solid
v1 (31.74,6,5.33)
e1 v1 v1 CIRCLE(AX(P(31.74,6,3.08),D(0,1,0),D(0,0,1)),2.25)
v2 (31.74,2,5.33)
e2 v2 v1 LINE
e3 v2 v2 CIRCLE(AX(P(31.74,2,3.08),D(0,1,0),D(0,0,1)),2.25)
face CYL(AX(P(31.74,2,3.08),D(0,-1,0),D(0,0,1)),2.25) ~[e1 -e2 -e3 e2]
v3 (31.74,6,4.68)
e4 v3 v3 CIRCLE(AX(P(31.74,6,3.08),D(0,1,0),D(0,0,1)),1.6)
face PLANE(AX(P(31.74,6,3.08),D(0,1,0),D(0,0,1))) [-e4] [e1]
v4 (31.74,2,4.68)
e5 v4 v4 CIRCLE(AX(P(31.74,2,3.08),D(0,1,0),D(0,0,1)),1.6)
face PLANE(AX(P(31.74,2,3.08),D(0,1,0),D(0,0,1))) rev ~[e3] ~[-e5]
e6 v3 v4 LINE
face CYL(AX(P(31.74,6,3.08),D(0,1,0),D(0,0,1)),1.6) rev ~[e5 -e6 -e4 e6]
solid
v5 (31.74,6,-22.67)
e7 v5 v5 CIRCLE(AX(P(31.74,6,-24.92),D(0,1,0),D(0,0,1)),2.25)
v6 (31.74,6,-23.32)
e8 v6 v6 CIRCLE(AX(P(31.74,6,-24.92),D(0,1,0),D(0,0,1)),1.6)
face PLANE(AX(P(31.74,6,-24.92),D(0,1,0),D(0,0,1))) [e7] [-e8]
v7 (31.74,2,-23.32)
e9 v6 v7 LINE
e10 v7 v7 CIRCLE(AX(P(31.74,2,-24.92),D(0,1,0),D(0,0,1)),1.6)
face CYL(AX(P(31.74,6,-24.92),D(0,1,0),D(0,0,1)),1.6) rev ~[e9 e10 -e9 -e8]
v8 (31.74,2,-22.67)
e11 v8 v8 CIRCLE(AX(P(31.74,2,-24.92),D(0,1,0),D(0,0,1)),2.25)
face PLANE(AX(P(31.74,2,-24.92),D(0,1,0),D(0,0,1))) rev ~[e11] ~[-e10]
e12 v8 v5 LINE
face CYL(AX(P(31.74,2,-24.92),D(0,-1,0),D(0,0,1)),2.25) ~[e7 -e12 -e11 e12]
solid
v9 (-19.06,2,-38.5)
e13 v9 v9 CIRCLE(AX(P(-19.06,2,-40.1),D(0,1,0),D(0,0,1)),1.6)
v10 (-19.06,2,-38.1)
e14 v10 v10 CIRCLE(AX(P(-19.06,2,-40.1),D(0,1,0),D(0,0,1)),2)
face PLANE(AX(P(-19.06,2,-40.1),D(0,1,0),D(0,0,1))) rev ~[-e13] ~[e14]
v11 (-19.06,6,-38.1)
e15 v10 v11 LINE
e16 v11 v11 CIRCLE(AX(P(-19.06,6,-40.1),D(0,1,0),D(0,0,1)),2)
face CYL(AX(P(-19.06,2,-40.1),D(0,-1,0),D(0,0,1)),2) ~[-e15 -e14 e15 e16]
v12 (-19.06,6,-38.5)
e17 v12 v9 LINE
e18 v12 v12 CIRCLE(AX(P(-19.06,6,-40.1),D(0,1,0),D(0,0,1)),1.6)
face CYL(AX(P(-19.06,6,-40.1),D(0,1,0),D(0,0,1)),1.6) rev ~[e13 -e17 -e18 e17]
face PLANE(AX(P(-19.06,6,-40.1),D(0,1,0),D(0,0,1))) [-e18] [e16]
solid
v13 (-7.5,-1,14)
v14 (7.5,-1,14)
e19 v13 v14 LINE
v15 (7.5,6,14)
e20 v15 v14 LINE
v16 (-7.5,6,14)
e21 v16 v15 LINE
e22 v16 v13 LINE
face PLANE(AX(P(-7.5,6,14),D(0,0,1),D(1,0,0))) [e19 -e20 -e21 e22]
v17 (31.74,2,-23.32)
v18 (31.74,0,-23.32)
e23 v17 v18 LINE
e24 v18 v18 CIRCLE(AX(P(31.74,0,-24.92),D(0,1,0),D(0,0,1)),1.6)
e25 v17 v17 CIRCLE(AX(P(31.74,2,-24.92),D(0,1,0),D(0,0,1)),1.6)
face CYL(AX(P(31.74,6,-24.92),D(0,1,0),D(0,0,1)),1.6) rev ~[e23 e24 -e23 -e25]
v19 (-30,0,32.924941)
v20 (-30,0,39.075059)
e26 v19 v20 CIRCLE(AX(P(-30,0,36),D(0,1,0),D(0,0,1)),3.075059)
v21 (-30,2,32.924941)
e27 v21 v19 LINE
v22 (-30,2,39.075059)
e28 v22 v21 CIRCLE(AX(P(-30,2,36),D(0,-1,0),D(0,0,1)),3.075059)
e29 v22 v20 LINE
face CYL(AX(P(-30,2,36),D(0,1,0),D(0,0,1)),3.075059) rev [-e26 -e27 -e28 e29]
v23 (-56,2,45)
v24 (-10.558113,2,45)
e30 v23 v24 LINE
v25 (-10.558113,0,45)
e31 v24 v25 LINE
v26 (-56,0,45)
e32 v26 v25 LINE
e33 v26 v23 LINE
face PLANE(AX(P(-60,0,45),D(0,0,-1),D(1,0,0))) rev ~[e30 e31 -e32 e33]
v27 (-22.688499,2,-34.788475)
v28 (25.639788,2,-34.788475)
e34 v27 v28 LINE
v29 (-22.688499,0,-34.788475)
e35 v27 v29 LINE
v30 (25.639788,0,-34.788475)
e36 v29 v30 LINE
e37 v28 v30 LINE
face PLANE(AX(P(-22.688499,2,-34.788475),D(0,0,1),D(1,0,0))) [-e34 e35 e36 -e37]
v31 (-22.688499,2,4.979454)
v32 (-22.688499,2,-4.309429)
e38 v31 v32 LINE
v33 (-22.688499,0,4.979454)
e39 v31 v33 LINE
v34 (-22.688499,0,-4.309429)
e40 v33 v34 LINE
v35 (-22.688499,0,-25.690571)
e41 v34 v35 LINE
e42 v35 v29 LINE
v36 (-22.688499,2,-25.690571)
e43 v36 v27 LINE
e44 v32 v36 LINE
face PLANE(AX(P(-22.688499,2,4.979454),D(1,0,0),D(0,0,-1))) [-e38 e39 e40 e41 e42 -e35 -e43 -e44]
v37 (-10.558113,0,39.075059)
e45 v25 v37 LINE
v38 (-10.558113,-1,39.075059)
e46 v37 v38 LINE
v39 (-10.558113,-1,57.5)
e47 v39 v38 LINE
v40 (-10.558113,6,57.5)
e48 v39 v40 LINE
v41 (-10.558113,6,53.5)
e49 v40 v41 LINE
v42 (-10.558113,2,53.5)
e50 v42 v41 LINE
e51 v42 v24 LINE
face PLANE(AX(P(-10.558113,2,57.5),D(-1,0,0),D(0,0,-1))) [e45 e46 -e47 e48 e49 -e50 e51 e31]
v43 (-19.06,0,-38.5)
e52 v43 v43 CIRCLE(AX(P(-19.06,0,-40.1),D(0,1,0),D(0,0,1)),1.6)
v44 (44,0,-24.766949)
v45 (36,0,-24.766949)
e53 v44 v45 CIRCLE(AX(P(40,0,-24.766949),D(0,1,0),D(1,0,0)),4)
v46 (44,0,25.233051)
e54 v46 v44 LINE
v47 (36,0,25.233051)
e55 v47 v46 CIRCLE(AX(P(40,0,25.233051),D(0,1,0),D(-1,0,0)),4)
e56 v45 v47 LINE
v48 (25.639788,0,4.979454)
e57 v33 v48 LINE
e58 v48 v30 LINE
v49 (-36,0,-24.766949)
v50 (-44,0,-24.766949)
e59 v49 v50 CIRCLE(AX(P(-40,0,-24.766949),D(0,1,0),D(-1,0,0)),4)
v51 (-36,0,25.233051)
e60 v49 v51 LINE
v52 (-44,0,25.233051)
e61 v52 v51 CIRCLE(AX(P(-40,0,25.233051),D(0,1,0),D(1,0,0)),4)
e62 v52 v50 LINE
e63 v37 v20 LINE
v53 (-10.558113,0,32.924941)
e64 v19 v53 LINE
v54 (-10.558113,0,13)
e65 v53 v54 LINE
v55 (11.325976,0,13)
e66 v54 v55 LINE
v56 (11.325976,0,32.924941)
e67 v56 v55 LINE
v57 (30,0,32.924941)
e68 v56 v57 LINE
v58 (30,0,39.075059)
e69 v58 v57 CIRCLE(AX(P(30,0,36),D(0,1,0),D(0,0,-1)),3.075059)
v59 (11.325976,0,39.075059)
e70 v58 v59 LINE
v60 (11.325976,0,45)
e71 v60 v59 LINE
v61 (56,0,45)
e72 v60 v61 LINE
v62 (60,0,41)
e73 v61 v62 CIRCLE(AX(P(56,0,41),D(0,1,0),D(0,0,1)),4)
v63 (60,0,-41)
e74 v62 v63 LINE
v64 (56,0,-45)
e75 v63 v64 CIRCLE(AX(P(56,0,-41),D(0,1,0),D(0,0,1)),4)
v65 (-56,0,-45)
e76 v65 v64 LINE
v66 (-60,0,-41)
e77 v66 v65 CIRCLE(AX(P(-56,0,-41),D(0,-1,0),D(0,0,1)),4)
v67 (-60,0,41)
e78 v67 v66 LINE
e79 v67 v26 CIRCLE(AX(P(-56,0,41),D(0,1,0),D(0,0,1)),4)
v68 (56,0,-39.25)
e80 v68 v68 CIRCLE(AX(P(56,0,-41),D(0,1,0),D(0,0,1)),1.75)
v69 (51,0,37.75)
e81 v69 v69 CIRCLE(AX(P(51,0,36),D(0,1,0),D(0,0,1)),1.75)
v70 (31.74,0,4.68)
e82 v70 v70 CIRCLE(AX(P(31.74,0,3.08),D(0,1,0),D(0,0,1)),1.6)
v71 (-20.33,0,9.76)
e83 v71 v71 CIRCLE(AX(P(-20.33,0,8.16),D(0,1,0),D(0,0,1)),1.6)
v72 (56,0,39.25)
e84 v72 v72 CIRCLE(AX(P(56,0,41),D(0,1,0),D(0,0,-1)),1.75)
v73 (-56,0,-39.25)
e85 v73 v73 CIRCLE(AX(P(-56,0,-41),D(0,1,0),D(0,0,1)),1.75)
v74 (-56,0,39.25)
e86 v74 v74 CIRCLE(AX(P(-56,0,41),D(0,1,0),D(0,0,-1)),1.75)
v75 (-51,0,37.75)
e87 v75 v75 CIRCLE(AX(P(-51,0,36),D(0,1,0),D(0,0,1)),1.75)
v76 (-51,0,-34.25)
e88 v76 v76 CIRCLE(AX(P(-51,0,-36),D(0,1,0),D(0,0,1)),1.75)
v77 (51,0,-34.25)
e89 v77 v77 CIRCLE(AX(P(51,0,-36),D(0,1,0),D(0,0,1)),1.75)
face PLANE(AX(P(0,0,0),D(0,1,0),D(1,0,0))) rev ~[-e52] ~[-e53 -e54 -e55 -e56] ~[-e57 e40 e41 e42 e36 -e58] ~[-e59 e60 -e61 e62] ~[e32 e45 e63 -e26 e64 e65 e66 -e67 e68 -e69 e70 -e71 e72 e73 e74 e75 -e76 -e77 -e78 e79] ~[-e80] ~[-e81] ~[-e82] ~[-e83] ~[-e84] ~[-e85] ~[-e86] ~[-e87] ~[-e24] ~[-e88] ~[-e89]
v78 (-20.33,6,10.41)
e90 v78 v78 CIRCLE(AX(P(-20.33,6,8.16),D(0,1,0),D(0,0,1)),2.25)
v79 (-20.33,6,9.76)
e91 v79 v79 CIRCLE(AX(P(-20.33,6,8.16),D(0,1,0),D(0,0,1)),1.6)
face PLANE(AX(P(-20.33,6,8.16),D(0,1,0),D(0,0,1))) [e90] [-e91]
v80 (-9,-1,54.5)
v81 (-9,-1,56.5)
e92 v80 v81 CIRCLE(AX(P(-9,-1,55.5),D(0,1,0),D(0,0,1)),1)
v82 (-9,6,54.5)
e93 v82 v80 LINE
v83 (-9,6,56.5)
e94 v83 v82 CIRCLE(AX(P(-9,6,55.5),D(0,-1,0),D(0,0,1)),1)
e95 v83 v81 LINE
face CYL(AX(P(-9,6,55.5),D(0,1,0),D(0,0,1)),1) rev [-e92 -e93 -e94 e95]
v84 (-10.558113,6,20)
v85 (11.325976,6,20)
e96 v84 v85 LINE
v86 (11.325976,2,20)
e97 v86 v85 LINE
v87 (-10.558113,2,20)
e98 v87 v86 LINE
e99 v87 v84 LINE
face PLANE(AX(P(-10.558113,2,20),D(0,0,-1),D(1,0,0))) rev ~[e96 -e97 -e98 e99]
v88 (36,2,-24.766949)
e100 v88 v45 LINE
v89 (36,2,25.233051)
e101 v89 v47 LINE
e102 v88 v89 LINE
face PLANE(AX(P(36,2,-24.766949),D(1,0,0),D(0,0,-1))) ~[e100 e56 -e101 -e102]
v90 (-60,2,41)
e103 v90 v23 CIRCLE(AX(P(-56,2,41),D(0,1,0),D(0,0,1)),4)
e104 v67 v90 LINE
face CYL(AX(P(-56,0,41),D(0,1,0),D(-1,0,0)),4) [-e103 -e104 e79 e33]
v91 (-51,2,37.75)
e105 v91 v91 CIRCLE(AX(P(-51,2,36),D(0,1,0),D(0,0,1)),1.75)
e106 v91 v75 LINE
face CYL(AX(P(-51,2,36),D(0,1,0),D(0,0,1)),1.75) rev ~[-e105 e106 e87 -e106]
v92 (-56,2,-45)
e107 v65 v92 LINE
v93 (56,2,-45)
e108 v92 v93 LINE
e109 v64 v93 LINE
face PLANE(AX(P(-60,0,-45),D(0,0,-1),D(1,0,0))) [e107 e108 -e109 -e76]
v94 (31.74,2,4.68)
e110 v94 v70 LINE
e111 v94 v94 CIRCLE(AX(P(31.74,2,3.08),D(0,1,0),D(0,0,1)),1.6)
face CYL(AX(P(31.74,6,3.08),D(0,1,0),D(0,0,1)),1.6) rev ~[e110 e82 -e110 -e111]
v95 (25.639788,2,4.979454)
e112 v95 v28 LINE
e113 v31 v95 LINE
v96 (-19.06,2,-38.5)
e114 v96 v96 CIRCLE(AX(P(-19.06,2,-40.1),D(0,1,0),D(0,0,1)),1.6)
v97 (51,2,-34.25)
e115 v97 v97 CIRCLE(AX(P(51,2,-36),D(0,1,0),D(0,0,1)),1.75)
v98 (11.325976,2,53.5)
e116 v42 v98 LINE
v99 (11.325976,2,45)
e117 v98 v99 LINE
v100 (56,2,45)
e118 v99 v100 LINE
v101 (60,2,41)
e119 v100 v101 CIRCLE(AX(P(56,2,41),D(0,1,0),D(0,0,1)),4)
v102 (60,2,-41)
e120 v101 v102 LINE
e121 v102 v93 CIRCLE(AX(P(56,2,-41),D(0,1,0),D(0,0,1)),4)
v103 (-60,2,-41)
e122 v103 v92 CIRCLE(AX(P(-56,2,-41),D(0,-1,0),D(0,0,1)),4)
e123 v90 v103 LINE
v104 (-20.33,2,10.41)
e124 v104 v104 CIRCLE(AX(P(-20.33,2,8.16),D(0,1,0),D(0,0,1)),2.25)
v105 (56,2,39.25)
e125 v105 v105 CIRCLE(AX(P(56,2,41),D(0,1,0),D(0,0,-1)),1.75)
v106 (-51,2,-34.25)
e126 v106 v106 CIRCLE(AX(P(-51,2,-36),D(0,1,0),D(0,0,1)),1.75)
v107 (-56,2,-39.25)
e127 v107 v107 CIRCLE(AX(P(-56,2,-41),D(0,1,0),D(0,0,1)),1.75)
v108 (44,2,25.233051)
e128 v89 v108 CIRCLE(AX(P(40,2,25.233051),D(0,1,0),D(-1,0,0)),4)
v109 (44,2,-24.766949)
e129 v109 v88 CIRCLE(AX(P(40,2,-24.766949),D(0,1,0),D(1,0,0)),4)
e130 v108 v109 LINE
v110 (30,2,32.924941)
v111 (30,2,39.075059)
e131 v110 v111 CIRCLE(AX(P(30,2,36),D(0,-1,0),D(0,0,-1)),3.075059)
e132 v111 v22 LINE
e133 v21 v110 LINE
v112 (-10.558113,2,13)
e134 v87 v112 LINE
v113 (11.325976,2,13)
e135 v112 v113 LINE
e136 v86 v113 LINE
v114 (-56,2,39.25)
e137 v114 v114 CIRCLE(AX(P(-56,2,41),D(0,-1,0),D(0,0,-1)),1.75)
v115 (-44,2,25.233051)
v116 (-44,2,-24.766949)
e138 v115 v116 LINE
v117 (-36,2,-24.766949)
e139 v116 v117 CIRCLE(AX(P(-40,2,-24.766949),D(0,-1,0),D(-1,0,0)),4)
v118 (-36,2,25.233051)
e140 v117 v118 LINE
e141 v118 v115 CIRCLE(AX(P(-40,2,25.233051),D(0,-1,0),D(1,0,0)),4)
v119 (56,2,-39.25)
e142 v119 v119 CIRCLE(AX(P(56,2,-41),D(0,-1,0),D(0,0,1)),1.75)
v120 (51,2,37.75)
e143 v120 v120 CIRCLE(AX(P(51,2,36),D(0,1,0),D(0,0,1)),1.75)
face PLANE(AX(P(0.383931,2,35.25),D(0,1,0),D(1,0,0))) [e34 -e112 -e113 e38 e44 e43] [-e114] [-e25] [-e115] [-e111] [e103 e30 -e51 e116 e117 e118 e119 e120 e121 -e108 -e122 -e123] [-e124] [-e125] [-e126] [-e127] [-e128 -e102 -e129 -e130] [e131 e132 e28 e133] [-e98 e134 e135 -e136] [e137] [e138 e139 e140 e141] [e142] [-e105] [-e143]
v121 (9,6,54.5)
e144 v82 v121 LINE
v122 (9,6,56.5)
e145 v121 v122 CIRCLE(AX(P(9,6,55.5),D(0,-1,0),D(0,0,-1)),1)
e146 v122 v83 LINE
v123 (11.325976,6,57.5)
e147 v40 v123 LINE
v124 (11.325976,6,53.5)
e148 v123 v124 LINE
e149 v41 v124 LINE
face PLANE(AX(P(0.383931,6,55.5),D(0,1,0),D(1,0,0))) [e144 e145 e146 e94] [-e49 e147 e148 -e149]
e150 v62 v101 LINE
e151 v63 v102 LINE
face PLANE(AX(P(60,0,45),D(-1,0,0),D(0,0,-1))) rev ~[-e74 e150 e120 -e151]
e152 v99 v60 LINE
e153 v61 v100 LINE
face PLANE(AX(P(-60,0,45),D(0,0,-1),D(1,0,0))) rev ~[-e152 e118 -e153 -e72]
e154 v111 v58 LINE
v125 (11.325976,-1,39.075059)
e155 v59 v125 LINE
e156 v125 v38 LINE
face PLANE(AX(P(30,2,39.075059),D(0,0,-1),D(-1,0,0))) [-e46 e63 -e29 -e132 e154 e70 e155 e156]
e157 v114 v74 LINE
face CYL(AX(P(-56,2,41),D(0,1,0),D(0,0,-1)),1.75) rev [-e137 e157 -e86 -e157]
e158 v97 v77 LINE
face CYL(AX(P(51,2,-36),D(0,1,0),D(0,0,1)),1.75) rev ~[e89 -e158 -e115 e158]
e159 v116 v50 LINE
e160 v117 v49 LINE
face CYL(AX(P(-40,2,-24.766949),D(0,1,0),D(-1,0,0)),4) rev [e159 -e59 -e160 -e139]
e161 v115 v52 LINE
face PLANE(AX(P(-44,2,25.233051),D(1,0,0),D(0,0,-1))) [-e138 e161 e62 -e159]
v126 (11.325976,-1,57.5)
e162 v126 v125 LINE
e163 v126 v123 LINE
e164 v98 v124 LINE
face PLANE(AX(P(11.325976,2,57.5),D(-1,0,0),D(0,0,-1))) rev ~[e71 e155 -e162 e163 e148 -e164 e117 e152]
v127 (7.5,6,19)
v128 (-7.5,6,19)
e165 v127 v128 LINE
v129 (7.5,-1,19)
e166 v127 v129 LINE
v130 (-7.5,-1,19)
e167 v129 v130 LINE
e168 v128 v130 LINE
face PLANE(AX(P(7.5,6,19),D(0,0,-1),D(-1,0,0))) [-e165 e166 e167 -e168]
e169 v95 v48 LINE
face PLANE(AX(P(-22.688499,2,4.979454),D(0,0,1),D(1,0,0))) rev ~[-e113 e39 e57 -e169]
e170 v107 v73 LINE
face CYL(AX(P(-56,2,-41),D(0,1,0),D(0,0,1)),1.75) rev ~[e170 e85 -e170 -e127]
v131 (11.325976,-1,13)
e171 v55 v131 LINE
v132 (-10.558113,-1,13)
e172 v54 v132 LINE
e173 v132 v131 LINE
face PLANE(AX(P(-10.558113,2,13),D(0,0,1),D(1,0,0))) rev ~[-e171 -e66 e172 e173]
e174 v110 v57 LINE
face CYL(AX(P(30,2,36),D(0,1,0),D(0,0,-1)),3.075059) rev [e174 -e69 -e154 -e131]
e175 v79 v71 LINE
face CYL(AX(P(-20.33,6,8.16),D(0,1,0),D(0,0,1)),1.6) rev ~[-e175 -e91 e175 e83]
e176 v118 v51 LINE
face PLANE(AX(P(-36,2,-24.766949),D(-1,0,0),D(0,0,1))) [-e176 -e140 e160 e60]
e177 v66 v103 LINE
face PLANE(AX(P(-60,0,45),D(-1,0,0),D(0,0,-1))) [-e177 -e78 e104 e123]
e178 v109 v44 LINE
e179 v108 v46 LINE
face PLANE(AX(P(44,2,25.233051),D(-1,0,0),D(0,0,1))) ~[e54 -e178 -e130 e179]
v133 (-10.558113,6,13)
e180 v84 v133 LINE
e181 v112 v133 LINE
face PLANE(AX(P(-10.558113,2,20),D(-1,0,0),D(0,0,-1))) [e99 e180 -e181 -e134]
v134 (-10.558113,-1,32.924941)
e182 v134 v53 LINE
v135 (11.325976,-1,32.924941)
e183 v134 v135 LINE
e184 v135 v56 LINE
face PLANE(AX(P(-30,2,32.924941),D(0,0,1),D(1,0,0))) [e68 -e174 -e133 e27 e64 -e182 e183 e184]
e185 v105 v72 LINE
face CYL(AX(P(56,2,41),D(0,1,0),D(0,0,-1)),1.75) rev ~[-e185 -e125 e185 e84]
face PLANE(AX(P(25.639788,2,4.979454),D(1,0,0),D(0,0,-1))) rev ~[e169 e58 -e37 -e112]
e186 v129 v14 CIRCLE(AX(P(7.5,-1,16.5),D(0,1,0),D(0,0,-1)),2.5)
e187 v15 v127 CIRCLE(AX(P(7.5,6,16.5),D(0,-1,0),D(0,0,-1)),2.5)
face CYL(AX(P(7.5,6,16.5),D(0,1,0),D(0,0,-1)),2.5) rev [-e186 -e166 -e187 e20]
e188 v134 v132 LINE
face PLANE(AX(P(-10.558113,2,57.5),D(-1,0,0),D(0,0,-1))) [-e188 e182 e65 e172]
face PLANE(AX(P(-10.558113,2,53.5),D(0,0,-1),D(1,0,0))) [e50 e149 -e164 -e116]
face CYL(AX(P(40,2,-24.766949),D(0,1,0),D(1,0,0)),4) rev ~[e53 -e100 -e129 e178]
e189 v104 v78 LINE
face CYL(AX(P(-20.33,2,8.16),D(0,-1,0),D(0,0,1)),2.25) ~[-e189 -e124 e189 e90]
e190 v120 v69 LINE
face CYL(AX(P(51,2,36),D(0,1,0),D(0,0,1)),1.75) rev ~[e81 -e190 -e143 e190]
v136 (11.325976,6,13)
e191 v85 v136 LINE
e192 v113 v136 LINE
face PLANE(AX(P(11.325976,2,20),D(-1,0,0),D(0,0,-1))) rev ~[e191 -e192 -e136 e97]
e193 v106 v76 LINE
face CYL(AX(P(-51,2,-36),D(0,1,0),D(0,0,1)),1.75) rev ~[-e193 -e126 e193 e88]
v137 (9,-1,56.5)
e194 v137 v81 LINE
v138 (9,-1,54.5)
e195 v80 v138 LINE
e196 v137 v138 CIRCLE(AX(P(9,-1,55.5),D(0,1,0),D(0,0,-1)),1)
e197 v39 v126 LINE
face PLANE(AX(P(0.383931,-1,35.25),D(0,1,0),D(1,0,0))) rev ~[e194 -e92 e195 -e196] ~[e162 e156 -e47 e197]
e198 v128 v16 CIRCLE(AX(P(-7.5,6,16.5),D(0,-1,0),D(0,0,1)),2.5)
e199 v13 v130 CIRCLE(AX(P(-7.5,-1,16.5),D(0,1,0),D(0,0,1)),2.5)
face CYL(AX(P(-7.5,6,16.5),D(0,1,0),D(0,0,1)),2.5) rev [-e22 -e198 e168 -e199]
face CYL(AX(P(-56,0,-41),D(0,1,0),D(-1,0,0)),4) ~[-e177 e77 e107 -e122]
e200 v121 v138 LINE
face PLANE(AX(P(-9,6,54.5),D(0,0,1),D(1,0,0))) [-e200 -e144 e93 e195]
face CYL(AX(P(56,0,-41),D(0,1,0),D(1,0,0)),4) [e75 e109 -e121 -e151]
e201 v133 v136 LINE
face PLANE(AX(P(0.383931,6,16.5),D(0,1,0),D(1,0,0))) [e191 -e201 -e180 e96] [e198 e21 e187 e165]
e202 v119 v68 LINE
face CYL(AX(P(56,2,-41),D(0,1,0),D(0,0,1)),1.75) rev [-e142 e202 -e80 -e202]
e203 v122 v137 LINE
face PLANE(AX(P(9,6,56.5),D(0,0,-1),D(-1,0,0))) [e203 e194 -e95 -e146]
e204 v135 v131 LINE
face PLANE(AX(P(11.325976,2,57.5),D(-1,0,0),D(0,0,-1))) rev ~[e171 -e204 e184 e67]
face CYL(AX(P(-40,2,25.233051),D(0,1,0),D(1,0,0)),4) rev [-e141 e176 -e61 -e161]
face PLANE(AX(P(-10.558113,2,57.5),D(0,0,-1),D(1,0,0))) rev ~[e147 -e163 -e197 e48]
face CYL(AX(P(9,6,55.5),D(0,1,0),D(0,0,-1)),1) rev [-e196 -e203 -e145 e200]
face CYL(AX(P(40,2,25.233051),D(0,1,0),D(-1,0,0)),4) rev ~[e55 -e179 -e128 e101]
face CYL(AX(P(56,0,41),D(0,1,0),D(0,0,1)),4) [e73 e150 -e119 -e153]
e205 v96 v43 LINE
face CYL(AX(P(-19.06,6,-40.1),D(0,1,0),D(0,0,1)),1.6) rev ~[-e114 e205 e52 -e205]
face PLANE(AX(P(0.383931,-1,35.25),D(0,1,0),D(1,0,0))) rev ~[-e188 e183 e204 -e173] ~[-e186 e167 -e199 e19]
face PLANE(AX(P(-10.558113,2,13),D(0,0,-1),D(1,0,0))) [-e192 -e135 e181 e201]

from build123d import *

# Parameters (mm, degrees)
SKETCH1_W               = 120
SKETCH1_H               = 90
BOSS_EXTRUDE1_DEPTH     = 2
FILLET1_R               = 4
SKETCH3_R               = 2.25
BOSS_EXTRUDE2_DEPTH     = 4
SKETCH3_R_2             = 2
BOSS_EXTRUDE2_2_DEPTH   = 4
BOSS_EXTRUDE2_3_DEPTH   = 4
SKETCH4_R               = 1.6
CUT_EXTRUDE2_DEPTH      = 10
SKETCH7_W               = 43.376997866
SKETCH7_H               = 21.38114218
CUT_EXTRUDE3_DEPTH      = 10
SKETCH9_R               = 2.25
BOSS_EXTRUDE3_DEPTH     = 4
SKETCH10_R              = 1.6
CUT_EXTRUDE4_DEPTH      = 8
SKETCH11_W              = 21.884088293
SKETCH11_H              = 7
BOSS_EXTRUDE4_DEPTH     = 4
SKETCH12_W              = 21.884088293
SKETCH12_H              = 44.5
BOSS_EXTRUDE5_DEPTH     = 3
SKETCH13_W              = 21.884088293
SKETCH13_H              = 4
BOSS_EXTRUDE6_DEPTH     = 4
CUT_EXTRUDE5_DEPTH      = 11
CUT_EXTRUDE6_DEPTH      = 11
SKETCH17_R              = 1.75
CUT_EXTRUDE7_DEPTH      = 3
SKETCH18_R              = 1.75
CUT_EXTRUDE8_DEPTH      = 10
MIRROR2_COPY_1_SKETCH_R = 1.75
MIRROR2_COPY_1_DEPTH    = 10
CUT_EXTRUDE9_DEPTH      = 10
CUT_EXTRUDE10_DEPTH     = 10
SKETCH21_W              = 48.328287205
SKETCH21_H              = 39.767929333
CUT_EXTRUDE11_DEPTH     = 10


with BuildPart() as part:
    # Sketch1 → Boss-Extrude1 (new body)
    with BuildSketch(Plane(origin=(0, 0, 0), x_dir=(1, 0, 0), z_dir=(0, 1, 0))):
        Rectangle(SKETCH1_W, SKETCH1_H)
    extrude(amount=BOSS_EXTRUDE1_DEPTH)

    # Fillet1
    fillet1_edges = [part.edges().sort_by_distance(p)[0] for p in [
        (-60, 1, 45),
        (-60, 1, -45),
        (60, 1, -45),
        (60, 1, 45),
    ]]
    fillet(fillet1_edges, radius=FILLET1_R)


with BuildPart() as body_2:
    # Sketch3 → Boss-Extrude2 (new body)
    with BuildSketch(Plane(origin=(0, 2, 0), x_dir=(1, 0, 0), z_dir=(0, 1, 0))):
        with Locations(Location((31.74, -3.08, 0), (0, 0, 270))):
            Circle(SKETCH3_R)
    extrude(amount=BOSS_EXTRUDE2_DEPTH)


with BuildPart() as body_3:
    # Sketch3 → Boss-Extrude2 2 (new body)
    with BuildSketch(Plane(origin=(0, 2, 0), x_dir=(1, 0, 0), z_dir=(0, 1, 0))):
        with Locations(Location((-19.06, 40.1, 0), (0, 0, 270))):
            Circle(SKETCH3_R_2)
    extrude(amount=BOSS_EXTRUDE2_2_DEPTH)


with BuildPart() as body_4:
    # Sketch3 → Boss-Extrude2 3 (new body)
    with BuildSketch(Plane(origin=(0, 2, 0), x_dir=(1, 0, 0), z_dir=(0, 1, 0))):
        with Locations(Location((31.74, 24.92, 0), (0, 0, 270))):
            Circle(SKETCH3_R)
    extrude(amount=BOSS_EXTRUDE2_3_DEPTH)


with BuildPart() as cut_extrude2_tool:
    # Sketch4 → Cut-Extrude2 (new body)
    with BuildSketch(Plane(origin=(0, 6, 0), x_dir=(1, 0, 0), z_dir=(0, 1, 0))):
        with Locations(Location((-19.06, 40.1, 0), (0, 0, 270))):
            Circle(SKETCH4_R)
        with Locations(Location((31.74, 24.92, 0), (0, 0, 270))):
            Circle(SKETCH4_R)
        with Locations(Location((31.74, -3.08, 0), (0, 0, 270))):
            Circle(SKETCH4_R)
    extrude(amount=-CUT_EXTRUDE2_DEPTH)


with BuildPart() as part_1:
    add(part.part)

    # Cut-Extrude2: cut by cut_extrude2_tool
    add(cut_extrude2_tool.part, mode=Mode.SUBTRACT)

    # Sketch7 → Cut-Extrude3 (cut)
    with BuildSketch(Plane(origin=(0, 2, 0), x_dir=(1, 0, 0), z_dir=(0, 1, 0))):
        with Locations((-1, 15)):
            Rectangle(SKETCH7_W, SKETCH7_H)
    extrude(amount=-CUT_EXTRUDE3_DEPTH, mode=Mode.SUBTRACT)

    # Sketch9 → Boss-Extrude3 (add)
    with BuildSketch(Plane(origin=(0, 2, 0), x_dir=(1, 0, 0), z_dir=(0, 1, 0))):
        with Locations(Location((-20.33, -8.16, 0), (0, 0, 270))):
            Circle(SKETCH9_R)
    extrude(amount=BOSS_EXTRUDE3_DEPTH)

    # Sketch10 → Cut-Extrude4 (cut)
    with BuildSketch(Plane(origin=(0, 6, 0), x_dir=(1, 0, 0), z_dir=(0, 1, 0))):
        with Locations(Location((-20.33, -8.16, 0), (0, 0, 270))):
            Circle(SKETCH10_R)
    extrude(amount=-CUT_EXTRUDE4_DEPTH, mode=Mode.SUBTRACT)

    # Sketch11 → Boss-Extrude4 (add)
    with BuildSketch(Plane(origin=(0, 2, 0), x_dir=(1, 0, 0), z_dir=(0, 1, 0))):
        with Locations((0.383931373, -16.5)):
            Rectangle(SKETCH11_W, SKETCH11_H)
    extrude(amount=BOSS_EXTRUDE4_DEPTH)

    # Sketch12 → Boss-Extrude5 (add)
    with BuildSketch(Plane(origin=(0, 2, 0), x_dir=(1, 0, 0), z_dir=(0, 1, 0))):
        with Locations((0.383931373, -35.25)):
            Rectangle(SKETCH12_W, SKETCH12_H)
    extrude(amount=-BOSS_EXTRUDE5_DEPTH)

    # Sketch13 → Boss-Extrude6 (add)
    with BuildSketch(Plane(origin=(0, 2, 0), x_dir=(1, 0, 0), z_dir=(0, 1, 0))):
        with Locations((0.383931373, -55.5)):
            Rectangle(SKETCH13_W, SKETCH13_H)
    extrude(amount=BOSS_EXTRUDE6_DEPTH)

    # Sketch14 → Cut-Extrude5 (cut)
    with BuildSketch(Plane(origin=(0, 6, 0), x_dir=(1, 0, 0), z_dir=(0, 1, 0))):
        with BuildLine():
            Line((-7.5, -14), (7.5, -14))
            ThreePointArc((7.5, -14), (10, -16.5), (7.5, -19))
            Line((7.5, -19), (-7.5, -19))
            ThreePointArc((-7.5, -19), (-10, -16.5), (-7.5, -14))
        make_face()
    extrude(amount=-CUT_EXTRUDE5_DEPTH, mode=Mode.SUBTRACT)

    # Sketch15 → Cut-Extrude6 (cut)
    with BuildSketch(Plane(origin=(0, 6, 0), x_dir=(1, 0, 0), z_dir=(0, 1, 0))):
        with BuildLine():
            Line((-9, -54.5), (9, -54.5))
            ThreePointArc((9, -54.5), (10, -55.5), (9, -56.5))
            Line((9, -56.5), (-9, -56.5))
            ThreePointArc((-9, -56.5), (-10, -55.5), (-9, -54.5))
        make_face()
    extrude(amount=-CUT_EXTRUDE6_DEPTH, mode=Mode.SUBTRACT)

    # Sketch17 → Cut-Extrude7 (cut)
    with BuildSketch(Plane(origin=(0, 2, 0), x_dir=(1, 0, 0), z_dir=(0, 1, 0))):
        with Locations(Location((-51, 36, 0), (0, 0, 270))):
            Circle(SKETCH17_R)
        with Locations(Location((51, 36, 0), (0, 0, 270))):
            Circle(SKETCH17_R)
        with Locations(Location((51, -36, 0), (0, 0, 270))):
            Circle(SKETCH17_R)
        with Locations(Location((-51, -36, 0), (0, 0, 270))):
            Circle(SKETCH17_R)
    extrude(amount=-CUT_EXTRUDE7_DEPTH, mode=Mode.SUBTRACT)

    # Sketch18 → Cut-Extrude8 (cut)
    with BuildSketch(Plane(origin=(0, 2, 0), x_dir=(1, 0, 0), z_dir=(0, 1, 0))):
        with Locations(Location((-56, 41, 0), (0, 0, 270))):
            Circle(SKETCH18_R)
    cut_extrude8 = extrude(amount=-CUT_EXTRUDE8_DEPTH, mode=Mode.SUBTRACT)

    # Mirror1: Cut-Extrude8 across plane
    add(cut_extrude8.mirror(Plane(origin=(0, 0, 0), x_dir=(0, 0, 1), z_dir=(1, 0, 0))), mode=Mode.SUBTRACT)

    # Mirror2: Cut-Extrude8 across plane
    add(cut_extrude8.mirror(Plane.XY), mode=Mode.SUBTRACT)

    # Mirror2 copy 1 sketch → Mirror2 copy 1 (cut)
    with BuildSketch(Plane(origin=(0, 2, 0), x_dir=(-1, 0, 0), z_dir=(0, 1, 0))):
        with Locations(Location((-56, 41, 0), (0, 0, 270))):
            Circle(MIRROR2_COPY_1_SKETCH_R)
    extrude(amount=-MIRROR2_COPY_1_DEPTH, mode=Mode.SUBTRACT)

    # Sketch19 → Cut-Extrude9 (cut)
    with BuildSketch(Plane(origin=(0, 2, 0), x_dir=(1, 0, 0), z_dir=(0, 1, 0))):
        with BuildLine():
            Line((-44, -25.233051022), (-44, 24.766948978))
            ThreePointArc((-44, 24.766948978), (-40, 28.766948978), (-36, 24.766948978))
            Line((-36, 24.766948978), (-36, -25.233051022))
            ThreePointArc((-36, -25.233051022), (-40, -29.233051022), (-44, -25.233051022))
        make_face()
    cut_extrude9 = extrude(amount=-CUT_EXTRUDE9_DEPTH, mode=Mode.SUBTRACT)

    # Mirror3: Cut-Extrude9 across plane
    add(cut_extrude9.mirror(Plane(origin=(0, 0, 0), x_dir=(0, 0, 1), z_dir=(1, 0, 0))), mode=Mode.SUBTRACT)

    # Sketch20 → Cut-Extrude10 (cut)
    with BuildSketch(Plane(origin=(0, 2, 0), x_dir=(1, 0, 0), z_dir=(0, 1, 0))):
        with BuildLine():
            Line((-30, -32.924941093), (30, -32.924941093))
            ThreePointArc((30, -32.924941093), (33.075058907, -36), (30, -39.075058907))
            Line((30, -39.075058907), (-30, -39.075058907))
            ThreePointArc((-30, -39.075058907), (-33.075058907, -36), (-30, -32.924941093))
        make_face()
    extrude(amount=-CUT_EXTRUDE10_DEPTH, mode=Mode.SUBTRACT)

    # Sketch21 → Cut-Extrude11 (cut)
    with BuildSketch(Plane(origin=(0, 2, 0), x_dir=(1, 0, 0), z_dir=(0, 1, 0))):
        with Locations((1.475644669, 14.904510513)):
            Rectangle(SKETCH21_W, SKETCH21_H)
    extrude(amount=-CUT_EXTRUDE11_DEPTH, mode=Mode.SUBTRACT)


with BuildPart() as body_2_1:
    add(body_2.part)

    # Cut-Extrude2: cut by cut_extrude2_tool
    add(cut_extrude2_tool.part, mode=Mode.SUBTRACT)


with BuildPart() as body_3_1:
    add(body_3.part)

    # Cut-Extrude2: cut by cut_extrude2_tool
    add(cut_extrude2_tool.part, mode=Mode.SUBTRACT)


with BuildPart() as body_4_1:
    add(body_4.part)

    # Cut-Extrude2: cut by cut_extrude2_tool
    add(cut_extrude2_tool.part, mode=Mode.SUBTRACT)


solid = Compound([part_1.part, body_2_1.part, body_3_1.part, body_4_1.part])
